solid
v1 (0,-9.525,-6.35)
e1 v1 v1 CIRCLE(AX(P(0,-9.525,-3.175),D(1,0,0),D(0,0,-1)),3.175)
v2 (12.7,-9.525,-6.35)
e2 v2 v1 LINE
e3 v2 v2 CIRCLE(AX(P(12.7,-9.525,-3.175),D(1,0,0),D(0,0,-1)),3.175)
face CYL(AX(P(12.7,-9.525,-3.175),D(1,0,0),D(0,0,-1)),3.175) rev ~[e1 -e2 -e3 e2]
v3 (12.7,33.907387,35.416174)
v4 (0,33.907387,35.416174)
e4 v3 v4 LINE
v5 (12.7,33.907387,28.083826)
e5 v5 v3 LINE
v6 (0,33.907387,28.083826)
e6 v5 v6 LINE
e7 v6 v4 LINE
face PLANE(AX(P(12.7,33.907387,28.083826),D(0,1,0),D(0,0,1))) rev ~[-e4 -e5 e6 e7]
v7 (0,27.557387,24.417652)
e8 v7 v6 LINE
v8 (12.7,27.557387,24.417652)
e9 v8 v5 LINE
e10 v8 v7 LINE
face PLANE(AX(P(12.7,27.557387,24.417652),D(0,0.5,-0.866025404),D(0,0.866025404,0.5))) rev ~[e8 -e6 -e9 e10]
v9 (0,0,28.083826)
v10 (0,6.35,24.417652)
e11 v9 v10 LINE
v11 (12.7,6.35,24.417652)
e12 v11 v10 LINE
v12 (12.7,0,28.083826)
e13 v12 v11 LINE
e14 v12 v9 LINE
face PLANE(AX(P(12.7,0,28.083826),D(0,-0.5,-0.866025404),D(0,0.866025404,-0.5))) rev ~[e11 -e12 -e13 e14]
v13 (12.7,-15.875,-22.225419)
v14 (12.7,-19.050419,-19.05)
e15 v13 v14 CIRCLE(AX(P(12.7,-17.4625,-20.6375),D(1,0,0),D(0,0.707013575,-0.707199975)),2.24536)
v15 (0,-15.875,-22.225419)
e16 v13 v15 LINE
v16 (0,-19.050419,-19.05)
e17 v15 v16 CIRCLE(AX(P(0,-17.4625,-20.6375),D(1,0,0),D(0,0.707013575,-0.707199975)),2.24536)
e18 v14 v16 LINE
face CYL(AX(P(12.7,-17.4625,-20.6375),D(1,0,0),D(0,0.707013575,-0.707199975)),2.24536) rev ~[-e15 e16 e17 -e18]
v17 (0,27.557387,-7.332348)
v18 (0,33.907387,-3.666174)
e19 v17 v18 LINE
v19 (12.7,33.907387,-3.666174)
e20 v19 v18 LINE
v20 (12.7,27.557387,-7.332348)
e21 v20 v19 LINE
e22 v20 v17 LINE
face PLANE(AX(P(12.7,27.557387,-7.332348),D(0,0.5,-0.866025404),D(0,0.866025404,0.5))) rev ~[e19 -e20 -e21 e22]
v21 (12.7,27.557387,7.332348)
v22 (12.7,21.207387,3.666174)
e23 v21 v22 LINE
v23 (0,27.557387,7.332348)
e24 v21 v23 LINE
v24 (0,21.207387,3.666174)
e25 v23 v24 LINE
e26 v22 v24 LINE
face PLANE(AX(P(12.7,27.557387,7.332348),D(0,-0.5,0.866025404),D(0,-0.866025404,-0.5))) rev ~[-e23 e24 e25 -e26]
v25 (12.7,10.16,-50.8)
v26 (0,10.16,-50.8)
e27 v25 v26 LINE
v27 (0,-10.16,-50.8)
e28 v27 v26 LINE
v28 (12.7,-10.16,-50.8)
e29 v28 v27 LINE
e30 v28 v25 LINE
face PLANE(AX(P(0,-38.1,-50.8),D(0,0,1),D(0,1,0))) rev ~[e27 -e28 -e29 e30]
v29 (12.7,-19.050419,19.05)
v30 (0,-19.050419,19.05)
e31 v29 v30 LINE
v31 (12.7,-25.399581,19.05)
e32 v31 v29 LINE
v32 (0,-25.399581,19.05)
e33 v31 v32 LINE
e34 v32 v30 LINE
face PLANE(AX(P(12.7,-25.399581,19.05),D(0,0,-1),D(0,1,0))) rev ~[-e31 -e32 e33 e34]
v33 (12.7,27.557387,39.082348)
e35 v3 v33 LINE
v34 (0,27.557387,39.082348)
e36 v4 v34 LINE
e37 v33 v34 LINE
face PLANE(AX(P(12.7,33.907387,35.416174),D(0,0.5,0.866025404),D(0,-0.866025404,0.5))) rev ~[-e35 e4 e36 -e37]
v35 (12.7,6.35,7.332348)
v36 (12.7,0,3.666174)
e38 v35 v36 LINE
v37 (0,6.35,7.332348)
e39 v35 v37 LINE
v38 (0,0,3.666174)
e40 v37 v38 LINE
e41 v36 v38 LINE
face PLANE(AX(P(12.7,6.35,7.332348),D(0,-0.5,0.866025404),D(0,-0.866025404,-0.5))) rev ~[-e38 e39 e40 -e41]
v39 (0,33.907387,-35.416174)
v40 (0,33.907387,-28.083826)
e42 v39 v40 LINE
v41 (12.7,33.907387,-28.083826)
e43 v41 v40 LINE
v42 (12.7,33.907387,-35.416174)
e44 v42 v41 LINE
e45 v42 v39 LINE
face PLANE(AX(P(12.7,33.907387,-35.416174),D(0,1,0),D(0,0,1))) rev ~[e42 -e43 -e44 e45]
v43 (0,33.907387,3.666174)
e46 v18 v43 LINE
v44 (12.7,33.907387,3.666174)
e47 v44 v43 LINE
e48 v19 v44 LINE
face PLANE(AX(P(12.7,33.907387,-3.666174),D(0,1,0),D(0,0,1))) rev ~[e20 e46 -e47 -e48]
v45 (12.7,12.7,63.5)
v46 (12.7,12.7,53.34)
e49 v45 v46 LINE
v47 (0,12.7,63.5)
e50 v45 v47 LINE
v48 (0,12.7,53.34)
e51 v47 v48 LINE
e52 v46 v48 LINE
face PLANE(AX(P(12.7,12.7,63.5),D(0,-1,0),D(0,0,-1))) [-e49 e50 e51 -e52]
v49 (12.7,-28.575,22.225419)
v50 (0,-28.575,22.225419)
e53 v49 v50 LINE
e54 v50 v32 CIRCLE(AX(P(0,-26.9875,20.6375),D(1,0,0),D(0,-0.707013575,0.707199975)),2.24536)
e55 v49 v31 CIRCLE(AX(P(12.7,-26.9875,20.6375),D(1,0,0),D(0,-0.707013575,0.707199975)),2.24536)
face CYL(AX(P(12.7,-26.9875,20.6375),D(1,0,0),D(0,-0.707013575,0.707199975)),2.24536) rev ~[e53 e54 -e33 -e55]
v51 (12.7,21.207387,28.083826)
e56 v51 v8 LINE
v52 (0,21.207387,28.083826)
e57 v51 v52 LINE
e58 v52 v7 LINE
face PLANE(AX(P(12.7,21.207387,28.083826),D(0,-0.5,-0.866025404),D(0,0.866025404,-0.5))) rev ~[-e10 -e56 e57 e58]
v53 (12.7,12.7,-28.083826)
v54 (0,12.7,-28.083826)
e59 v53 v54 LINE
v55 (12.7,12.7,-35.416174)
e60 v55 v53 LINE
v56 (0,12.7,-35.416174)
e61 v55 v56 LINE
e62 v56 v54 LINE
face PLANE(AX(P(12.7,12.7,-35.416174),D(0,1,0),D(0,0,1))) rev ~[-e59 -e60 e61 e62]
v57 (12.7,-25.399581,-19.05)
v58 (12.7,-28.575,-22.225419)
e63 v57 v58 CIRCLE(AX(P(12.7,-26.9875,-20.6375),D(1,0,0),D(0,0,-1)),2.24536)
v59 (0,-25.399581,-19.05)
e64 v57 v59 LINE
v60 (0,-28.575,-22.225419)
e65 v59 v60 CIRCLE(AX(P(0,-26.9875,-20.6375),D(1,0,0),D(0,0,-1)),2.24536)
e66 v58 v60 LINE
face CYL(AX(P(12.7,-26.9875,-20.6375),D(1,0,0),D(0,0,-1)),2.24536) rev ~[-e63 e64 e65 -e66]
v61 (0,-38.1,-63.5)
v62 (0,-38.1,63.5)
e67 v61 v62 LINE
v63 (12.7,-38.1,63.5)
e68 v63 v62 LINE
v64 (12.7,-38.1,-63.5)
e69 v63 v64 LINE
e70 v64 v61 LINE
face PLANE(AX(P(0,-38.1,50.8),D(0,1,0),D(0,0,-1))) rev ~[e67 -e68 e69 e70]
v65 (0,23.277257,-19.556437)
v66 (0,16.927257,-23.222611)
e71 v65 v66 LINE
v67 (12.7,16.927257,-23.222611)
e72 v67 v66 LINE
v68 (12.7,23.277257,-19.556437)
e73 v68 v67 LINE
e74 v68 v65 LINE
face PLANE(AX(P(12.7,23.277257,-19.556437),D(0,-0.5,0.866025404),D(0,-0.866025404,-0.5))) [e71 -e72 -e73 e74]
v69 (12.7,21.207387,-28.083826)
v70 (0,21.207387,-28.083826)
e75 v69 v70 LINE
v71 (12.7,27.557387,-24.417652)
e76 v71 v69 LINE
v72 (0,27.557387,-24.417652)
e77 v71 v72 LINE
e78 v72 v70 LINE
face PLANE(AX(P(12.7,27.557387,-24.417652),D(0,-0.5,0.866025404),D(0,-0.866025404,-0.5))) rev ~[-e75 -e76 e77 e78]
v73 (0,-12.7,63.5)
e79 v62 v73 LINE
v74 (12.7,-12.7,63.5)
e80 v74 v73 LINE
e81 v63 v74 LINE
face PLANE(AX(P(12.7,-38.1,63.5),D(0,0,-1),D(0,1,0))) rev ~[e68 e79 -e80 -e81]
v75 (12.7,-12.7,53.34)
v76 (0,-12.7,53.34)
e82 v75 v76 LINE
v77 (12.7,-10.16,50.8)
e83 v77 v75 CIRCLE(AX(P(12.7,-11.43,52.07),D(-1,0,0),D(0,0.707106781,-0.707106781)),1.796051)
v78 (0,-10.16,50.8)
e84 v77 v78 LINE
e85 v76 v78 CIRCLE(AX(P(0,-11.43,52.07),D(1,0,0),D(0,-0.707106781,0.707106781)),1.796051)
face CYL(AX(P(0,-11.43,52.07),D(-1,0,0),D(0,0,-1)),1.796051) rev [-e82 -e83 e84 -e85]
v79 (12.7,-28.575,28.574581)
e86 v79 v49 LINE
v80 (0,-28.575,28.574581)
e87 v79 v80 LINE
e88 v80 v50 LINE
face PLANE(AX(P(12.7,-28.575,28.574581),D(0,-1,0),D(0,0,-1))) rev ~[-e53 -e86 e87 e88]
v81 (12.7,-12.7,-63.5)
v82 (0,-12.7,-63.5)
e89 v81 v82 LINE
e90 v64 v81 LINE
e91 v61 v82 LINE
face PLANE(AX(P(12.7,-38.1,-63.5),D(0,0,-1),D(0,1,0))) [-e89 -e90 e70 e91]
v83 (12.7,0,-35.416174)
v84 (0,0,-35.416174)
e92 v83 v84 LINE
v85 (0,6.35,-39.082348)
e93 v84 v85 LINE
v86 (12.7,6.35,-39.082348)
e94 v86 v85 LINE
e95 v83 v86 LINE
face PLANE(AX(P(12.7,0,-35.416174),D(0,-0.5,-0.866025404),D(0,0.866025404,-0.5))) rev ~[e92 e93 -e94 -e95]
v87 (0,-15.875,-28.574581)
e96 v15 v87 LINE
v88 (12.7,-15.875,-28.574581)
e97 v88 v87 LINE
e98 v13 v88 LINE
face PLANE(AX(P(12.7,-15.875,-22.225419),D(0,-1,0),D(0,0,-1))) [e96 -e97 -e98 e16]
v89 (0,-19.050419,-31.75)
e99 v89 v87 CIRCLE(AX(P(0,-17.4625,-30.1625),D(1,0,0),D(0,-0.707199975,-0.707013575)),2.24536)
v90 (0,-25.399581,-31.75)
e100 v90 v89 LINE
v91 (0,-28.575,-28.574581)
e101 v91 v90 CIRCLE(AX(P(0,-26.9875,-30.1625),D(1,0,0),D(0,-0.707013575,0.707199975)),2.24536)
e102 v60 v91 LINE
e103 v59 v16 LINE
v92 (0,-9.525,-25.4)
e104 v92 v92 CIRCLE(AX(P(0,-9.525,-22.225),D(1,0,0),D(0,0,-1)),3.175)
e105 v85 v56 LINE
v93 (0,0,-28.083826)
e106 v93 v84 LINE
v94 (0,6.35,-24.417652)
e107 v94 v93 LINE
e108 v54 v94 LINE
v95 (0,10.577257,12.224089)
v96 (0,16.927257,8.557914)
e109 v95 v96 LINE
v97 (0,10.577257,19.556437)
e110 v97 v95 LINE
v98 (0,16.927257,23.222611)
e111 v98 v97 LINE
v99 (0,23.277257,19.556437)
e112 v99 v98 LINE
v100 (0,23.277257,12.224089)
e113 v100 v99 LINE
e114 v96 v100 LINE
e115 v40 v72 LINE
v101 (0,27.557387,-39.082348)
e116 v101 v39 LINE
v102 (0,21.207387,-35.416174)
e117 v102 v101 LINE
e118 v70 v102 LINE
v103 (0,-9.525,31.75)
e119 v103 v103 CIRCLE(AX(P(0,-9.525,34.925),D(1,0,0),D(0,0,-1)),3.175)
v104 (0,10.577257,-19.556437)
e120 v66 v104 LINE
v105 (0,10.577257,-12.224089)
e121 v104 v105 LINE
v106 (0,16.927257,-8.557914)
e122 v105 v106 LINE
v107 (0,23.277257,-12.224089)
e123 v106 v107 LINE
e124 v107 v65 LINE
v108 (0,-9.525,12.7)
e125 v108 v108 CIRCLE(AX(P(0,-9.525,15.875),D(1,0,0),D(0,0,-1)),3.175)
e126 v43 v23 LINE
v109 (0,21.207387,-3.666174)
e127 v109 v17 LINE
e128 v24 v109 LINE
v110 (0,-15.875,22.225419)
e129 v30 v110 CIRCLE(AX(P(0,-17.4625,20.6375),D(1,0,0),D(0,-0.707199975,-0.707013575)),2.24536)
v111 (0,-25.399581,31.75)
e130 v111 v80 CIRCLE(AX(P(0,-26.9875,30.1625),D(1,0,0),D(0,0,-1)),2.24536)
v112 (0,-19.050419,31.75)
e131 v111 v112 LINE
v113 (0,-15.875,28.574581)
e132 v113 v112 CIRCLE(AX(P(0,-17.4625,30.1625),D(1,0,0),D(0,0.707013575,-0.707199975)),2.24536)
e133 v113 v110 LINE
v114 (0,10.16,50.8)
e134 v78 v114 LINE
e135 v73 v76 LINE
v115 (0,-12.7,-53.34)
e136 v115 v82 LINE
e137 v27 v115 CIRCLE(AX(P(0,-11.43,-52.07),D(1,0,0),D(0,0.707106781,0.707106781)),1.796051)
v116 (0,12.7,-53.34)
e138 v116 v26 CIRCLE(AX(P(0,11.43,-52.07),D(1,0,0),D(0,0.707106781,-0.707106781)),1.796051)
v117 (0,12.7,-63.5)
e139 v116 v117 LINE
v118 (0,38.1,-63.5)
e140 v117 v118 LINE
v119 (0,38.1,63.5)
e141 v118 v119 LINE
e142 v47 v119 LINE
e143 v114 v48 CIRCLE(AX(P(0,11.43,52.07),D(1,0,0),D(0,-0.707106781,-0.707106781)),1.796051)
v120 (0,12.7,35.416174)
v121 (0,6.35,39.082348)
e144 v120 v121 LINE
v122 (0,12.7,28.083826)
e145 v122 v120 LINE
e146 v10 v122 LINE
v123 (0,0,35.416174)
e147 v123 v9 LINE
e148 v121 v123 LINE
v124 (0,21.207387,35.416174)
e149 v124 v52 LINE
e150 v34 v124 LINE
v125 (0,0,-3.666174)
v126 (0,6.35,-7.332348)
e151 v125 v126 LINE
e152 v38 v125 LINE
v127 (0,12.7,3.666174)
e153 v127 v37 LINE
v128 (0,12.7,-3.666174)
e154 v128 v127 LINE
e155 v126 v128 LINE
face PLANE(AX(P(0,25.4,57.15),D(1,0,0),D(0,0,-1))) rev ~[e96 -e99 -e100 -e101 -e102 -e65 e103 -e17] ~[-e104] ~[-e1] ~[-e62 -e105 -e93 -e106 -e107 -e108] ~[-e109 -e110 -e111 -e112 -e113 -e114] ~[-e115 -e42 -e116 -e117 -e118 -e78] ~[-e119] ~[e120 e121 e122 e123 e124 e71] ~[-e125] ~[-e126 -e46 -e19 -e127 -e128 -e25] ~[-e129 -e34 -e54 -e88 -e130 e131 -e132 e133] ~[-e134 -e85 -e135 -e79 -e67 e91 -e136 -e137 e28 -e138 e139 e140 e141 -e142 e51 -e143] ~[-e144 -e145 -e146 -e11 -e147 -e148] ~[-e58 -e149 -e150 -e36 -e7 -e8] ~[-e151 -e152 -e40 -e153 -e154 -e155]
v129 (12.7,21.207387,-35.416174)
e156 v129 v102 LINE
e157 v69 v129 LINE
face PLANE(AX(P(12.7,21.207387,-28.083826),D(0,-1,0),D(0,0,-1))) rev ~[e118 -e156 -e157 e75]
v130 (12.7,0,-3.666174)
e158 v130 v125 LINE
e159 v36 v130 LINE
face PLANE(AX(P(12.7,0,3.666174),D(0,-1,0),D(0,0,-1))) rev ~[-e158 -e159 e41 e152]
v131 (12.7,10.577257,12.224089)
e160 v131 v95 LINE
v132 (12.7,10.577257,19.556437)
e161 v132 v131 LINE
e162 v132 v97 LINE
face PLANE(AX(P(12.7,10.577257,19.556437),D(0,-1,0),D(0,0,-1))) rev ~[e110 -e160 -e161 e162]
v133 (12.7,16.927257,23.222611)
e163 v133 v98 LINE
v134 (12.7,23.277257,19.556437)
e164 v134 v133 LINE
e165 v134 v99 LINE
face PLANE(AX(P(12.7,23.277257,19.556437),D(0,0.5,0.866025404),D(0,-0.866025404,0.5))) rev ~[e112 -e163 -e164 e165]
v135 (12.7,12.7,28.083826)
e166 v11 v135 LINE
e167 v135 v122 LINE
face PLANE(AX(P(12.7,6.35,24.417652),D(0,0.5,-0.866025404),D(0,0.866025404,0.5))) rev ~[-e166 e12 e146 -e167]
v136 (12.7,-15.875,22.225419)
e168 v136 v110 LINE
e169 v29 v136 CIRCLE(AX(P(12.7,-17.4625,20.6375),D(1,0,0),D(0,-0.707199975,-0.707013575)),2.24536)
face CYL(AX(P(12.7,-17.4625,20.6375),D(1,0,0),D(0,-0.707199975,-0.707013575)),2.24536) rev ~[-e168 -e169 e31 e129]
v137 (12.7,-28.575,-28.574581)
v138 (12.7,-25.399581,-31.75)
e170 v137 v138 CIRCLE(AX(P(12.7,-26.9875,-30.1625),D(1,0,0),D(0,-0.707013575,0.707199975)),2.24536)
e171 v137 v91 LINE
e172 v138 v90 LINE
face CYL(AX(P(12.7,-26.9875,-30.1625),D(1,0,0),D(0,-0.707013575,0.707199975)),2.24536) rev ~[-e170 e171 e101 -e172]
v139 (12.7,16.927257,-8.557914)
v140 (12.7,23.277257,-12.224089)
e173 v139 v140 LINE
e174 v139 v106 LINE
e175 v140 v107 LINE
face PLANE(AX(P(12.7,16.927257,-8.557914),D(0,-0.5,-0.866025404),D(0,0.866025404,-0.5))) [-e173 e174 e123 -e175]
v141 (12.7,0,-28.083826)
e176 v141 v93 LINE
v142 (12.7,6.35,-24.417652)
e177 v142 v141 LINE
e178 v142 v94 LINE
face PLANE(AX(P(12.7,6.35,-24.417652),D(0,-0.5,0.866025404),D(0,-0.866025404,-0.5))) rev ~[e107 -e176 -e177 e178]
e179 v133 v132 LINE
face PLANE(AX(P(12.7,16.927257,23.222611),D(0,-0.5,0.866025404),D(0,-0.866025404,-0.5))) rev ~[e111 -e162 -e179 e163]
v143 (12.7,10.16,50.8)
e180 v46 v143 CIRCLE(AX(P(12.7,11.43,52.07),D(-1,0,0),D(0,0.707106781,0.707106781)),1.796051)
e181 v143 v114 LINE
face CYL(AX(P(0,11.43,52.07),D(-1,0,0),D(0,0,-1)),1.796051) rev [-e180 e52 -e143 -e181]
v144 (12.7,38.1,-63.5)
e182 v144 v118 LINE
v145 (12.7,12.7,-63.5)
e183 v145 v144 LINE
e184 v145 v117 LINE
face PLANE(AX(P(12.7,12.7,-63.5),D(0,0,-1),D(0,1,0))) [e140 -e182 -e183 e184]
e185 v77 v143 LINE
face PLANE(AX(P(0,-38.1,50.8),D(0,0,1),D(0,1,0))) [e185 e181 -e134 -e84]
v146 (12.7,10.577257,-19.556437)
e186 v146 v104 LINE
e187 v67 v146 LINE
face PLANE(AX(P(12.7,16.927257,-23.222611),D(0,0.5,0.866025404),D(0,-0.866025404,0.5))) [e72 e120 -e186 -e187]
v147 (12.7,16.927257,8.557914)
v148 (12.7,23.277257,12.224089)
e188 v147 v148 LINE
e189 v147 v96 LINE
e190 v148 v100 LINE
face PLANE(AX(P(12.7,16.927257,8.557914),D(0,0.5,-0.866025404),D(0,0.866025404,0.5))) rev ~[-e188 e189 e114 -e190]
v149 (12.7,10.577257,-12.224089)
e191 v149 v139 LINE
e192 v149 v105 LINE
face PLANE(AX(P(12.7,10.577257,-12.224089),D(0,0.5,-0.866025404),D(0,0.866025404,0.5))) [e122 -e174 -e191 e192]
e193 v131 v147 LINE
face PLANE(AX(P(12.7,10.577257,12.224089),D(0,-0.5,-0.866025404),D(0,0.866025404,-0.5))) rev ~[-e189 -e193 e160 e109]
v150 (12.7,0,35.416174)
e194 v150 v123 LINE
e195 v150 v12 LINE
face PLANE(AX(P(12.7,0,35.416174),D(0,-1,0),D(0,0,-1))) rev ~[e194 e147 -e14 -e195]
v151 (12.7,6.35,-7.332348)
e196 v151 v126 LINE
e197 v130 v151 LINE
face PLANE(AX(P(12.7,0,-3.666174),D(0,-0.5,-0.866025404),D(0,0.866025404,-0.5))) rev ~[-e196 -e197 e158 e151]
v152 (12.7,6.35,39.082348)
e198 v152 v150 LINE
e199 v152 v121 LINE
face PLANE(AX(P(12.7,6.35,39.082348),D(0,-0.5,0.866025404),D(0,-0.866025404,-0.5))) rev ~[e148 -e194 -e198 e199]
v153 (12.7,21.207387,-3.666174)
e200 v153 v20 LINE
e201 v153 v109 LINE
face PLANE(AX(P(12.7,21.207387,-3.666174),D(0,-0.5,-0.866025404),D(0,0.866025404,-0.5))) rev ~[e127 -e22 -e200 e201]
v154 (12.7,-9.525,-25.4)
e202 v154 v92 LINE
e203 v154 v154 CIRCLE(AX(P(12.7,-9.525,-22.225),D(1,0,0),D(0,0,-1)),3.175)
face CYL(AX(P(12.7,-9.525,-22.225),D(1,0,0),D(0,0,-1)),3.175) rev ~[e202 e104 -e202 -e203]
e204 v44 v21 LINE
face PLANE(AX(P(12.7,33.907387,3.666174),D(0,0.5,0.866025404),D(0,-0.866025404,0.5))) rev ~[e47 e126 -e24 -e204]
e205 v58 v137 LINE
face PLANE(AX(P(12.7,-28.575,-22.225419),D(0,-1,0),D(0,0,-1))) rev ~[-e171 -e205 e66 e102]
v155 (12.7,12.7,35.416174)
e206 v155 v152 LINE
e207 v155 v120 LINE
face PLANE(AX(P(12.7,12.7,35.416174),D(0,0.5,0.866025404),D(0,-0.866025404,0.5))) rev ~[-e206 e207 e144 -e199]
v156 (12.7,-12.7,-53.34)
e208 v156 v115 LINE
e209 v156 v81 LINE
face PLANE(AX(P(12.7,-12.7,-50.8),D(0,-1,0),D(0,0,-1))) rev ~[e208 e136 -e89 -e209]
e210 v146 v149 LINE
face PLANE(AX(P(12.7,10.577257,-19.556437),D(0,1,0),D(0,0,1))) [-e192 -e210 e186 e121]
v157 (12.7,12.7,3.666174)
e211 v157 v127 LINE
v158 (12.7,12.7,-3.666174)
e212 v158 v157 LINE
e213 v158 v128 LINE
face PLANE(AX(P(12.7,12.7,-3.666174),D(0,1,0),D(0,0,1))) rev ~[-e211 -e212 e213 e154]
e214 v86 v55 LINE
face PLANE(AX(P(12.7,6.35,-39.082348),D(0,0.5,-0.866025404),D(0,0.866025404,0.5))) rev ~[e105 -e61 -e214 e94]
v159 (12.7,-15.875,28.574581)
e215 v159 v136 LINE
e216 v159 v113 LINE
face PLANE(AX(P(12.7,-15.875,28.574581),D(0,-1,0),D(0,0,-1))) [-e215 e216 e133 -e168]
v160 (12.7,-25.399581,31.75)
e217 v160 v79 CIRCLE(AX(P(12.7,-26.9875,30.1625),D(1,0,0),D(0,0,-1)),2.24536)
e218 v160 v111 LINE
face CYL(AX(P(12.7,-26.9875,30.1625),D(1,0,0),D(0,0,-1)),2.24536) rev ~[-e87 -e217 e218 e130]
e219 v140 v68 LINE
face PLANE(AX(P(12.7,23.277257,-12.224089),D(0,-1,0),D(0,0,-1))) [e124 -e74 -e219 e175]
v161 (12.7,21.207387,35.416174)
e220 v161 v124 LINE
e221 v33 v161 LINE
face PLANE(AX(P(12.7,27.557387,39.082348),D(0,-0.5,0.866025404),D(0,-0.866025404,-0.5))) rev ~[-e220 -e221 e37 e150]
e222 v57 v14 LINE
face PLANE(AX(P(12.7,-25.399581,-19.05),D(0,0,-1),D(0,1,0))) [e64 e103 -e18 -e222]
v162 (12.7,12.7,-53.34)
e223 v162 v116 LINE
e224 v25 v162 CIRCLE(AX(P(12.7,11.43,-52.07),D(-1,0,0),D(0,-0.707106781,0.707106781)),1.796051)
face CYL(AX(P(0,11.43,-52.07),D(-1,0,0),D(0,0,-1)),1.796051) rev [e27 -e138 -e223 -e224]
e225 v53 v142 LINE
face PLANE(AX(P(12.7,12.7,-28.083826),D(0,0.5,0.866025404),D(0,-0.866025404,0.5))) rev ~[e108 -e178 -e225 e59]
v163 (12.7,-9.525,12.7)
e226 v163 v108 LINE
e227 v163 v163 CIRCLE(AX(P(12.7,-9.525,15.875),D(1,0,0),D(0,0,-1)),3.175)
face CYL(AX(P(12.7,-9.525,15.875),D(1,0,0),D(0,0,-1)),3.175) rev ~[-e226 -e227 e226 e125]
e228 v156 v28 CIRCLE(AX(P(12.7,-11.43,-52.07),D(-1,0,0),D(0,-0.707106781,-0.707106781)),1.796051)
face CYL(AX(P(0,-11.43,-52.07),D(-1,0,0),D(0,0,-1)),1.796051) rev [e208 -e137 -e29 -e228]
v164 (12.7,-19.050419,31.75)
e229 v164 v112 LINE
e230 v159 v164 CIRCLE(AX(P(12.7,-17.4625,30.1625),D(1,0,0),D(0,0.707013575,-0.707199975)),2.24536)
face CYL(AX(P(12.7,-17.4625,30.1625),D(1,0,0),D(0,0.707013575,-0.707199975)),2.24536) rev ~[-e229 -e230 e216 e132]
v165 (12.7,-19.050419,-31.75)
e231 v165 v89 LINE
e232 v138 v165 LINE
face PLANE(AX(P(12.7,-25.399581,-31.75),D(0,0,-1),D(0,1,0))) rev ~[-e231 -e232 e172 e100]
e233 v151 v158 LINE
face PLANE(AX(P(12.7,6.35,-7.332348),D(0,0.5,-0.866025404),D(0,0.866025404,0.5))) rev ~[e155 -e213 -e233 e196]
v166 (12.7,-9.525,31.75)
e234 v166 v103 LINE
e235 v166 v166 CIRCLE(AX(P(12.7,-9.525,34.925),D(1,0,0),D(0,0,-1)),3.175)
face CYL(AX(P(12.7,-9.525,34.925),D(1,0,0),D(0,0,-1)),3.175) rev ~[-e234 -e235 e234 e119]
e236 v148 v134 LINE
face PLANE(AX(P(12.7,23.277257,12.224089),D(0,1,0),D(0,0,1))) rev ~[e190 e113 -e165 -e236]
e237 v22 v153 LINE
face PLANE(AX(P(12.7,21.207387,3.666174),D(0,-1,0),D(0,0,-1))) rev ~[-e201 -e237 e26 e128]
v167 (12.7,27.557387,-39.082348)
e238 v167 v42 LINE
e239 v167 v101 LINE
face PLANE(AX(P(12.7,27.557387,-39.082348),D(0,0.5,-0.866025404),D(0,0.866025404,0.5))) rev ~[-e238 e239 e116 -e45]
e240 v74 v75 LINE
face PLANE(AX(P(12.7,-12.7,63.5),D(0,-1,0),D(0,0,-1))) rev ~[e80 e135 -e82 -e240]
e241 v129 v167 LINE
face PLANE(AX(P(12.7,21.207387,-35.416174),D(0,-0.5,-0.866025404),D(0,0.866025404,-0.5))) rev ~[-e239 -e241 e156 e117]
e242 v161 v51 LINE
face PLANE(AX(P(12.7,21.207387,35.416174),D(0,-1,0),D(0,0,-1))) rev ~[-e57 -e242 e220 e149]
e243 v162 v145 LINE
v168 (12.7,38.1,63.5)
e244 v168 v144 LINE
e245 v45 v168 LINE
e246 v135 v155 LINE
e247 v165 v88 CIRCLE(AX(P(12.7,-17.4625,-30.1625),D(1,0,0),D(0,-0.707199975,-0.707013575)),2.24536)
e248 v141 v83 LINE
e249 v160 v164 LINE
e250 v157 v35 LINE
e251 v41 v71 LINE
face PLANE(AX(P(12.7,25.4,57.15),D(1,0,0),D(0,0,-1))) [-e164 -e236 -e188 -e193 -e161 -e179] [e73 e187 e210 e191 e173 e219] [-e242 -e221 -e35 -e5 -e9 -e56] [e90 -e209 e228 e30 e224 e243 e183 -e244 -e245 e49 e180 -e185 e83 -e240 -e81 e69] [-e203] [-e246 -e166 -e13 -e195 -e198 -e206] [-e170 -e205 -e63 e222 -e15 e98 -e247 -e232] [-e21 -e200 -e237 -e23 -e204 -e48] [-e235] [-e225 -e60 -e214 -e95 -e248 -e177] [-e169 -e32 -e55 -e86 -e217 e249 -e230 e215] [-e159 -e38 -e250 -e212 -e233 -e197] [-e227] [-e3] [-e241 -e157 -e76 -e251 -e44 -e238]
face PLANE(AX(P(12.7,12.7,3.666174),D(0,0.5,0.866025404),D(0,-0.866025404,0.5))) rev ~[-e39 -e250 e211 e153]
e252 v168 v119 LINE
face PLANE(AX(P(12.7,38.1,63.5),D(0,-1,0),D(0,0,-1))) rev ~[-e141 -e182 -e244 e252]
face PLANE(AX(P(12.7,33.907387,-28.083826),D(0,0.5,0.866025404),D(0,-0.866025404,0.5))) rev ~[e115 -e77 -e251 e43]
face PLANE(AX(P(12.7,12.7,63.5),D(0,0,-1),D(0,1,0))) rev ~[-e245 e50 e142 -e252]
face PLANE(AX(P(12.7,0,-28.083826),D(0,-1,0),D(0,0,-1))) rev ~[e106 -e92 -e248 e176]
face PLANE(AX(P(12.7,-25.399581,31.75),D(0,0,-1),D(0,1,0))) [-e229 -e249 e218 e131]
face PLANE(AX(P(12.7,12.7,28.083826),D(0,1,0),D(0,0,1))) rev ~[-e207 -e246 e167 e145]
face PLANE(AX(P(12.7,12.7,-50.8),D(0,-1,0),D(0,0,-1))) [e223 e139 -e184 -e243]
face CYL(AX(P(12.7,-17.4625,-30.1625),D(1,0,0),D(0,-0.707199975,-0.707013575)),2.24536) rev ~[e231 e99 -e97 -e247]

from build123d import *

# Parameters (mm, degrees)
SKETCH3_W                 = 101.6
SKETCH3_H                 = 76.2
SQUARE_EXTRUSION_DEPTH    = 12.7
SKETCH4_R                 = 2.24536
SKETCH4_W                 = 12.7
SKETCH4_H                 = 12.7
SLOTTING_HOLES_DEPTH      = 12.7
HONEYCOMB_POCKETING_DEPTH = 12.7
SKETCH14_W                = 12.7
SKETCH14_H                = 25.4
TAB_EXTRUSION_DEPTH       = 12.7
CUT_EXTRUDE2_START        = -12.7
SKETCH15_R                = 1.796051224
CUT_EXTRUDE2_DEPTH        = 12.7
CUT_EXTRUDE3_REACH        = 77.134
SKETCH16_R                = 3.175


with BuildPart() as part:
    # Sketch3 → Square Extrusion (new body)
    with BuildSketch(Plane(origin=(0, 0, 0), x_dir=(0, 0, -1), z_dir=(1, 0, 0))):
        Rectangle(SKETCH3_W, SKETCH3_H)
    extrude(amount=SQUARE_EXTRUSION_DEPTH)

    # Sketch4 → Slotting Holes (cut)
    with BuildSketch(Plane(origin=(12.7, 0, 0), x_dir=(0, 0, -1), z_dir=(1, 0, 0))):
        with BuildLine():
            ThreePointArc((-28.574581463, -15.875), (-31.750209282, -15.874790718), (-31.75, -19.050418537))
            Line((-31.75, -19.050418537), (-31.75, -15.875))
            Line((-31.75, -15.875), (-28.574581463, -15.875))
        make_face()
        with BuildLine():
            Line((-31.75, -15.875), (-31.75, -19.050418537))
            ThreePointArc((-31.75, -19.050418537), (-29.303101219, -19.536885515), (-27.91714, -17.4625))
            ThreePointArc((-27.91714, -17.4625), (-28.08800123, -16.603374641), (-28.574581463, -15.875))
            Line((-28.574581463, -15.875), (-31.75, -15.875))
        make_face()
        with Locations((-30.1625, -26.9875)):
            Circle(SKETCH4_R)
        with Locations((-20.6375, -26.9875)):
            Circle(SKETCH4_R)
        with Locations((-20.6375, -17.4625)):
            Circle(SKETCH4_R)
        with Locations((-30.1625, -17.4625)):
            Circle(SKETCH4_R)
        with Locations((-25.4, -22.225)):
            Rectangle(SKETCH4_W, SKETCH4_H)
        with BuildLine():
            ThreePointArc((-22.225418537, -15.875), (-22.225209282, -19.050209282), (-19.05, -19.050418537))
            Line((-19.05, -19.050418537), (-19.05, -15.875))
            Line((-19.05, -15.875), (-22.225418537, -15.875))
        make_face()
        with BuildLine():
            Line((-19.05, -15.875), (-19.05, -19.050418537))
            ThreePointArc((-19.05, -19.050418537), (-18.563114485, -18.321898781), (-18.39214, -17.4625))
            ThreePointArc((-18.39214, -17.4625), (-19.778374641, -15.38800123), (-22.225418537, -15.875))
            Line((-22.225418537, -15.875), (-19.05, -15.875))
        make_face()
        with BuildLine():
            Line((-31.75, -25.399581463), (-31.75, -28.575))
            Line((-31.75, -28.575), (-28.574581463, -28.575))
            ThreePointArc((-28.574581463, -28.575), (-28.08800123, -27.846625359), (-27.91714, -26.9875))
            ThreePointArc((-27.91714, -26.9875), (-29.303101219, -24.913114485), (-31.75, -25.399581463))
        make_face()
        with BuildLine():
            Line((-28.574581463, -28.575), (-31.75, -28.575))
            Line((-31.75, -28.575), (-31.75, -25.399581463))
            ThreePointArc((-31.75, -25.399581463), (-31.750209282, -28.575209282), (-28.574581463, -28.575))
        make_face()
        with BuildLine():
            ThreePointArc((-19.05, -25.399581463), (-22.225209282, -25.399790718), (-22.225418537, -28.575))
            Line((-22.225418537, -28.575), (-19.05, -28.575))
            Line((-19.05, -28.575), (-19.05, -25.399581463))
        make_face()
        with BuildLine():
            Line((-19.05, -28.575), (-22.225418537, -28.575))
            ThreePointArc((-22.225418537, -28.575), (-19.778374641, -29.06199877), (-18.39214, -26.9875))
            ThreePointArc((-18.39214, -26.9875), (-18.563114485, -26.128101219), (-19.05, -25.399581463))
            Line((-19.05, -25.399581463), (-19.05, -28.575))
        make_face()
        with BuildLine():
            ThreePointArc((22.88286, -17.4625), (22.71199877, -16.603374641), (22.225418537, -15.875))
            Line((22.225418537, -15.875), (19.05, -15.875))
            Line((19.05, -15.875), (19.05, -19.050418537))
            ThreePointArc((19.05, -19.050418537), (21.496898781, -19.536885515), (22.88286, -17.4625))
        make_face()
        with BuildLine():
            Line((19.05, -15.875), (22.225418537, -15.875))
            ThreePointArc((22.225418537, -15.875), (19.049790718, -15.874790718), (19.05, -19.050418537))
            Line((19.05, -19.050418537), (19.05, -15.875))
        make_face()
        with Locations((30.1625, -17.4625)):
            Circle(SKETCH4_R)
        with Locations((20.6375, -17.4625)):
            Circle(SKETCH4_R)
        with Locations((20.6375, -26.9875)):
            Circle(SKETCH4_R)
        with Locations((30.1625, -26.9875)):
            Circle(SKETCH4_R)
        with Locations((25.4, -22.225)):
            Rectangle(SKETCH4_W, SKETCH4_H)
        with BuildLine():
            Line((31.75, -19.050418537), (31.75, -15.875))
            Line((31.75, -15.875), (28.574581463, -15.875))
            ThreePointArc((28.574581463, -15.875), (28.574790718, -19.050209282), (31.75, -19.050418537))
        make_face()
        with BuildLine():
            Line((28.574581463, -15.875), (31.75, -15.875))
            Line((31.75, -15.875), (31.75, -19.050418537))
            ThreePointArc((31.75, -19.050418537), (32.236885515, -18.321898781), (32.40786, -17.4625))
            ThreePointArc((32.40786, -17.4625), (31.021625359, -15.38800123), (28.574581463, -15.875))
        make_face()
        with BuildLine():
            ThreePointArc((32.40786, -26.9875), (32.236885515, -26.128101219), (31.75, -25.399581463))
            Line((31.75, -25.399581463), (31.75, -28.575))
            Line((31.75, -28.575), (28.574581463, -28.575))
            ThreePointArc((28.574581463, -28.575), (31.021625359, -29.06199877), (32.40786, -26.9875))
        make_face()
        with BuildLine():
            Line((31.75, -28.575), (31.75, -25.399581463))
            ThreePointArc((31.75, -25.399581463), (28.574790718, -25.399790718), (28.574581463, -28.575))
            Line((28.574581463, -28.575), (31.75, -28.575))
        make_face()
        with BuildLine():
            ThreePointArc((22.88286, -26.9875), (21.496898781, -24.913114485), (19.05, -25.399581463))
            Line((19.05, -25.399581463), (19.05, -28.575))
            Line((19.05, -28.575), (22.225418537, -28.575))
            ThreePointArc((22.225418537, -28.575), (22.71199877, -27.846625359), (22.88286, -26.9875))
        make_face()
        with BuildLine():
            Line((19.05, -28.575), (19.05, -25.399581463))
            ThreePointArc((19.05, -25.399581463), (19.049790718, -28.575209282), (22.225418537, -28.575))
            Line((22.225418537, -28.575), (19.05, -28.575))
        make_face()
    extrude(amount=-SLOTTING_HOLES_DEPTH, mode=Mode.SUBTRACT)

    # Sketch9 → Honeycomb Pocketing (cut)
    with BuildSketch(Plane(origin=(12.7, 0, 0), x_dir=(0, 0, -1), z_dir=(1, 0, 0))):
        Polygon((-35.416174209, 21.20738686), (-28.083825791, 21.20738686), (-24.417651581, 27.55738686), (-28.083825791, 33.90738686), (-35.416174209, 33.90738686), (-39.082348419, 27.55738686), align=None)
        Polygon((-3.666174209, 0), (3.666174209, 0), (7.332348419, 6.35), (3.666174209, 12.7), (-3.666174209, 12.7), (-7.332348419, 6.35), align=None)
        Polygon((-35.416174209, 0), (-28.083825791, 0), (-24.417651581, 6.35), (-28.083825791, 12.7), (-35.416174209, 12.7), (-39.082348419, 6.35), align=None)
        Polygon((28.083825791, 0), (35.416174209, 0), (39.082348419, 6.35), (35.416174209, 12.7), (28.083825791, 12.7), (24.417651581, 6.35), align=None)
        Polygon((-3.666174209, 21.20738686), (3.666174209, 21.20738686), (7.332348419, 27.55738686), (3.666174209, 33.90738686), (-3.666174209, 33.90738686), (-7.332348419, 27.55738686), align=None)
        Polygon((28.083825791, 21.20738686), (35.416174209, 21.20738686), (39.082348419, 27.55738686), (35.416174209, 33.90738686), (28.083825791, 33.90738686), (24.417651581, 27.55738686), align=None)
        Polygon((19.556437025, 10.577257458), (12.224088606, 10.577257458), (8.557914397, 16.927257458), (12.224088606, 23.277257458), (19.556437025, 23.277257458), (23.222611234, 16.927257458), align=None)
        Polygon((-12.224088606, 10.577257458), (-8.557914397, 16.927257458), (-12.224088606, 23.277257458), (-19.556437025, 23.277257458), (-23.222611234, 16.927257458), (-19.556437025, 10.577257458), align=None)
    extrude(amount=-HONEYCOMB_POCKETING_DEPTH, mode=Mode.SUBTRACT)

    # Sketch14 → Tab Extrusion (add)
    with BuildSketch(Plane(origin=(12.7, 0, 0), x_dir=(0, 0, -1), z_dir=(1, 0, 0))):
        with Locations((-57.15, 25.4)):
            Rectangle(SKETCH14_W, SKETCH14_H)
        with Locations((-57.15, -25.4)):
            Rectangle(SKETCH14_W, SKETCH14_H)
        with Locations((57.15, -25.4)):
            Rectangle(SKETCH14_W, SKETCH14_H)
        with Locations((57.15, 25.4)):
            Rectangle(SKETCH14_W, SKETCH14_H)
    extrude(amount=-TAB_EXTRUSION_DEPTH)

    # Sketch15 → Cut-Extrude2 (cut)
    with BuildSketch(Plane(origin=(12.7, 0, 0), x_dir=(0, 0, -1), z_dir=(1, 0, 0)).offset(CUT_EXTRUDE2_START)):
        with Locations((-52.07, 11.43)):
            Circle(SKETCH15_R)
        with Locations((-52.07, -11.43)):
            Circle(SKETCH15_R)
        with Locations((52.07, -11.43)):
            Circle(SKETCH15_R)
        with Locations((52.07, 11.43)):
            Circle(SKETCH15_R)
    extrude(amount=CUT_EXTRUDE2_DEPTH, mode=Mode.SUBTRACT)

    # Sketch16 → Cut-Extrude3 (cut, up to next)
    with BuildSketch(Plane(origin=(12.7, 0, 0), x_dir=(0, 0, -1), z_dir=(1, 0, 0)), mode=Mode.PRIVATE) as cut_extrude3_sk1:
        with Locations((-34.925, -9.525)):
            Circle(SKETCH16_R)
    cut_extrude3_tool1 = extrude(cut_extrude3_sk1.sketch, amount=-CUT_EXTRUDE3_REACH, mode=Mode.PRIVATE) & part.part
    # Sketch16 → Cut-Extrude3 (cut, up to next)
    with BuildSketch(Plane(origin=(12.7, 0, 0), x_dir=(0, 0, -1), z_dir=(1, 0, 0)), mode=Mode.PRIVATE) as cut_extrude3_sk2:
        with Locations((-15.875, -9.525)):
            Circle(SKETCH16_R)
    cut_extrude3_tool2 = extrude(cut_extrude3_sk2.sketch, amount=-CUT_EXTRUDE3_REACH, mode=Mode.PRIVATE) & part.part
    # Sketch16 → Cut-Extrude3 (cut, up to next)
    with BuildSketch(Plane(origin=(12.7, 0, 0), x_dir=(0, 0, -1), z_dir=(1, 0, 0)), mode=Mode.PRIVATE) as cut_extrude3_sk3:
        with Locations((3.175, -9.525)):
            Circle(SKETCH16_R)
    cut_extrude3_tool3 = extrude(cut_extrude3_sk3.sketch, amount=-CUT_EXTRUDE3_REACH, mode=Mode.PRIVATE) & part.part
    # Sketch16 → Cut-Extrude3 (cut, up to next)
    with BuildSketch(Plane(origin=(12.7, 0, 0), x_dir=(0, 0, -1), z_dir=(1, 0, 0)), mode=Mode.PRIVATE) as cut_extrude3_sk4:
        with Locations((22.225, -9.525)):
            Circle(SKETCH16_R)
    cut_extrude3_tool4 = extrude(cut_extrude3_sk4.sketch, amount=-CUT_EXTRUDE3_REACH, mode=Mode.PRIVATE) & part.part
    add(cut_extrude3_tool1.solids().sort_by_distance((12.7, -9.525, 34.925))[0], mode=Mode.SUBTRACT)
    add(cut_extrude3_tool2.solids().sort_by_distance((12.7, -9.525, 15.875))[0], mode=Mode.SUBTRACT)
    add(cut_extrude3_tool3.solids().sort_by_distance((12.7, -9.525, -3.175))[0], mode=Mode.SUBTRACT)
    add(cut_extrude3_tool4.solids().sort_by_distance((12.7, -9.525, -22.225))[0], mode=Mode.SUBTRACT)


solid = part.part
